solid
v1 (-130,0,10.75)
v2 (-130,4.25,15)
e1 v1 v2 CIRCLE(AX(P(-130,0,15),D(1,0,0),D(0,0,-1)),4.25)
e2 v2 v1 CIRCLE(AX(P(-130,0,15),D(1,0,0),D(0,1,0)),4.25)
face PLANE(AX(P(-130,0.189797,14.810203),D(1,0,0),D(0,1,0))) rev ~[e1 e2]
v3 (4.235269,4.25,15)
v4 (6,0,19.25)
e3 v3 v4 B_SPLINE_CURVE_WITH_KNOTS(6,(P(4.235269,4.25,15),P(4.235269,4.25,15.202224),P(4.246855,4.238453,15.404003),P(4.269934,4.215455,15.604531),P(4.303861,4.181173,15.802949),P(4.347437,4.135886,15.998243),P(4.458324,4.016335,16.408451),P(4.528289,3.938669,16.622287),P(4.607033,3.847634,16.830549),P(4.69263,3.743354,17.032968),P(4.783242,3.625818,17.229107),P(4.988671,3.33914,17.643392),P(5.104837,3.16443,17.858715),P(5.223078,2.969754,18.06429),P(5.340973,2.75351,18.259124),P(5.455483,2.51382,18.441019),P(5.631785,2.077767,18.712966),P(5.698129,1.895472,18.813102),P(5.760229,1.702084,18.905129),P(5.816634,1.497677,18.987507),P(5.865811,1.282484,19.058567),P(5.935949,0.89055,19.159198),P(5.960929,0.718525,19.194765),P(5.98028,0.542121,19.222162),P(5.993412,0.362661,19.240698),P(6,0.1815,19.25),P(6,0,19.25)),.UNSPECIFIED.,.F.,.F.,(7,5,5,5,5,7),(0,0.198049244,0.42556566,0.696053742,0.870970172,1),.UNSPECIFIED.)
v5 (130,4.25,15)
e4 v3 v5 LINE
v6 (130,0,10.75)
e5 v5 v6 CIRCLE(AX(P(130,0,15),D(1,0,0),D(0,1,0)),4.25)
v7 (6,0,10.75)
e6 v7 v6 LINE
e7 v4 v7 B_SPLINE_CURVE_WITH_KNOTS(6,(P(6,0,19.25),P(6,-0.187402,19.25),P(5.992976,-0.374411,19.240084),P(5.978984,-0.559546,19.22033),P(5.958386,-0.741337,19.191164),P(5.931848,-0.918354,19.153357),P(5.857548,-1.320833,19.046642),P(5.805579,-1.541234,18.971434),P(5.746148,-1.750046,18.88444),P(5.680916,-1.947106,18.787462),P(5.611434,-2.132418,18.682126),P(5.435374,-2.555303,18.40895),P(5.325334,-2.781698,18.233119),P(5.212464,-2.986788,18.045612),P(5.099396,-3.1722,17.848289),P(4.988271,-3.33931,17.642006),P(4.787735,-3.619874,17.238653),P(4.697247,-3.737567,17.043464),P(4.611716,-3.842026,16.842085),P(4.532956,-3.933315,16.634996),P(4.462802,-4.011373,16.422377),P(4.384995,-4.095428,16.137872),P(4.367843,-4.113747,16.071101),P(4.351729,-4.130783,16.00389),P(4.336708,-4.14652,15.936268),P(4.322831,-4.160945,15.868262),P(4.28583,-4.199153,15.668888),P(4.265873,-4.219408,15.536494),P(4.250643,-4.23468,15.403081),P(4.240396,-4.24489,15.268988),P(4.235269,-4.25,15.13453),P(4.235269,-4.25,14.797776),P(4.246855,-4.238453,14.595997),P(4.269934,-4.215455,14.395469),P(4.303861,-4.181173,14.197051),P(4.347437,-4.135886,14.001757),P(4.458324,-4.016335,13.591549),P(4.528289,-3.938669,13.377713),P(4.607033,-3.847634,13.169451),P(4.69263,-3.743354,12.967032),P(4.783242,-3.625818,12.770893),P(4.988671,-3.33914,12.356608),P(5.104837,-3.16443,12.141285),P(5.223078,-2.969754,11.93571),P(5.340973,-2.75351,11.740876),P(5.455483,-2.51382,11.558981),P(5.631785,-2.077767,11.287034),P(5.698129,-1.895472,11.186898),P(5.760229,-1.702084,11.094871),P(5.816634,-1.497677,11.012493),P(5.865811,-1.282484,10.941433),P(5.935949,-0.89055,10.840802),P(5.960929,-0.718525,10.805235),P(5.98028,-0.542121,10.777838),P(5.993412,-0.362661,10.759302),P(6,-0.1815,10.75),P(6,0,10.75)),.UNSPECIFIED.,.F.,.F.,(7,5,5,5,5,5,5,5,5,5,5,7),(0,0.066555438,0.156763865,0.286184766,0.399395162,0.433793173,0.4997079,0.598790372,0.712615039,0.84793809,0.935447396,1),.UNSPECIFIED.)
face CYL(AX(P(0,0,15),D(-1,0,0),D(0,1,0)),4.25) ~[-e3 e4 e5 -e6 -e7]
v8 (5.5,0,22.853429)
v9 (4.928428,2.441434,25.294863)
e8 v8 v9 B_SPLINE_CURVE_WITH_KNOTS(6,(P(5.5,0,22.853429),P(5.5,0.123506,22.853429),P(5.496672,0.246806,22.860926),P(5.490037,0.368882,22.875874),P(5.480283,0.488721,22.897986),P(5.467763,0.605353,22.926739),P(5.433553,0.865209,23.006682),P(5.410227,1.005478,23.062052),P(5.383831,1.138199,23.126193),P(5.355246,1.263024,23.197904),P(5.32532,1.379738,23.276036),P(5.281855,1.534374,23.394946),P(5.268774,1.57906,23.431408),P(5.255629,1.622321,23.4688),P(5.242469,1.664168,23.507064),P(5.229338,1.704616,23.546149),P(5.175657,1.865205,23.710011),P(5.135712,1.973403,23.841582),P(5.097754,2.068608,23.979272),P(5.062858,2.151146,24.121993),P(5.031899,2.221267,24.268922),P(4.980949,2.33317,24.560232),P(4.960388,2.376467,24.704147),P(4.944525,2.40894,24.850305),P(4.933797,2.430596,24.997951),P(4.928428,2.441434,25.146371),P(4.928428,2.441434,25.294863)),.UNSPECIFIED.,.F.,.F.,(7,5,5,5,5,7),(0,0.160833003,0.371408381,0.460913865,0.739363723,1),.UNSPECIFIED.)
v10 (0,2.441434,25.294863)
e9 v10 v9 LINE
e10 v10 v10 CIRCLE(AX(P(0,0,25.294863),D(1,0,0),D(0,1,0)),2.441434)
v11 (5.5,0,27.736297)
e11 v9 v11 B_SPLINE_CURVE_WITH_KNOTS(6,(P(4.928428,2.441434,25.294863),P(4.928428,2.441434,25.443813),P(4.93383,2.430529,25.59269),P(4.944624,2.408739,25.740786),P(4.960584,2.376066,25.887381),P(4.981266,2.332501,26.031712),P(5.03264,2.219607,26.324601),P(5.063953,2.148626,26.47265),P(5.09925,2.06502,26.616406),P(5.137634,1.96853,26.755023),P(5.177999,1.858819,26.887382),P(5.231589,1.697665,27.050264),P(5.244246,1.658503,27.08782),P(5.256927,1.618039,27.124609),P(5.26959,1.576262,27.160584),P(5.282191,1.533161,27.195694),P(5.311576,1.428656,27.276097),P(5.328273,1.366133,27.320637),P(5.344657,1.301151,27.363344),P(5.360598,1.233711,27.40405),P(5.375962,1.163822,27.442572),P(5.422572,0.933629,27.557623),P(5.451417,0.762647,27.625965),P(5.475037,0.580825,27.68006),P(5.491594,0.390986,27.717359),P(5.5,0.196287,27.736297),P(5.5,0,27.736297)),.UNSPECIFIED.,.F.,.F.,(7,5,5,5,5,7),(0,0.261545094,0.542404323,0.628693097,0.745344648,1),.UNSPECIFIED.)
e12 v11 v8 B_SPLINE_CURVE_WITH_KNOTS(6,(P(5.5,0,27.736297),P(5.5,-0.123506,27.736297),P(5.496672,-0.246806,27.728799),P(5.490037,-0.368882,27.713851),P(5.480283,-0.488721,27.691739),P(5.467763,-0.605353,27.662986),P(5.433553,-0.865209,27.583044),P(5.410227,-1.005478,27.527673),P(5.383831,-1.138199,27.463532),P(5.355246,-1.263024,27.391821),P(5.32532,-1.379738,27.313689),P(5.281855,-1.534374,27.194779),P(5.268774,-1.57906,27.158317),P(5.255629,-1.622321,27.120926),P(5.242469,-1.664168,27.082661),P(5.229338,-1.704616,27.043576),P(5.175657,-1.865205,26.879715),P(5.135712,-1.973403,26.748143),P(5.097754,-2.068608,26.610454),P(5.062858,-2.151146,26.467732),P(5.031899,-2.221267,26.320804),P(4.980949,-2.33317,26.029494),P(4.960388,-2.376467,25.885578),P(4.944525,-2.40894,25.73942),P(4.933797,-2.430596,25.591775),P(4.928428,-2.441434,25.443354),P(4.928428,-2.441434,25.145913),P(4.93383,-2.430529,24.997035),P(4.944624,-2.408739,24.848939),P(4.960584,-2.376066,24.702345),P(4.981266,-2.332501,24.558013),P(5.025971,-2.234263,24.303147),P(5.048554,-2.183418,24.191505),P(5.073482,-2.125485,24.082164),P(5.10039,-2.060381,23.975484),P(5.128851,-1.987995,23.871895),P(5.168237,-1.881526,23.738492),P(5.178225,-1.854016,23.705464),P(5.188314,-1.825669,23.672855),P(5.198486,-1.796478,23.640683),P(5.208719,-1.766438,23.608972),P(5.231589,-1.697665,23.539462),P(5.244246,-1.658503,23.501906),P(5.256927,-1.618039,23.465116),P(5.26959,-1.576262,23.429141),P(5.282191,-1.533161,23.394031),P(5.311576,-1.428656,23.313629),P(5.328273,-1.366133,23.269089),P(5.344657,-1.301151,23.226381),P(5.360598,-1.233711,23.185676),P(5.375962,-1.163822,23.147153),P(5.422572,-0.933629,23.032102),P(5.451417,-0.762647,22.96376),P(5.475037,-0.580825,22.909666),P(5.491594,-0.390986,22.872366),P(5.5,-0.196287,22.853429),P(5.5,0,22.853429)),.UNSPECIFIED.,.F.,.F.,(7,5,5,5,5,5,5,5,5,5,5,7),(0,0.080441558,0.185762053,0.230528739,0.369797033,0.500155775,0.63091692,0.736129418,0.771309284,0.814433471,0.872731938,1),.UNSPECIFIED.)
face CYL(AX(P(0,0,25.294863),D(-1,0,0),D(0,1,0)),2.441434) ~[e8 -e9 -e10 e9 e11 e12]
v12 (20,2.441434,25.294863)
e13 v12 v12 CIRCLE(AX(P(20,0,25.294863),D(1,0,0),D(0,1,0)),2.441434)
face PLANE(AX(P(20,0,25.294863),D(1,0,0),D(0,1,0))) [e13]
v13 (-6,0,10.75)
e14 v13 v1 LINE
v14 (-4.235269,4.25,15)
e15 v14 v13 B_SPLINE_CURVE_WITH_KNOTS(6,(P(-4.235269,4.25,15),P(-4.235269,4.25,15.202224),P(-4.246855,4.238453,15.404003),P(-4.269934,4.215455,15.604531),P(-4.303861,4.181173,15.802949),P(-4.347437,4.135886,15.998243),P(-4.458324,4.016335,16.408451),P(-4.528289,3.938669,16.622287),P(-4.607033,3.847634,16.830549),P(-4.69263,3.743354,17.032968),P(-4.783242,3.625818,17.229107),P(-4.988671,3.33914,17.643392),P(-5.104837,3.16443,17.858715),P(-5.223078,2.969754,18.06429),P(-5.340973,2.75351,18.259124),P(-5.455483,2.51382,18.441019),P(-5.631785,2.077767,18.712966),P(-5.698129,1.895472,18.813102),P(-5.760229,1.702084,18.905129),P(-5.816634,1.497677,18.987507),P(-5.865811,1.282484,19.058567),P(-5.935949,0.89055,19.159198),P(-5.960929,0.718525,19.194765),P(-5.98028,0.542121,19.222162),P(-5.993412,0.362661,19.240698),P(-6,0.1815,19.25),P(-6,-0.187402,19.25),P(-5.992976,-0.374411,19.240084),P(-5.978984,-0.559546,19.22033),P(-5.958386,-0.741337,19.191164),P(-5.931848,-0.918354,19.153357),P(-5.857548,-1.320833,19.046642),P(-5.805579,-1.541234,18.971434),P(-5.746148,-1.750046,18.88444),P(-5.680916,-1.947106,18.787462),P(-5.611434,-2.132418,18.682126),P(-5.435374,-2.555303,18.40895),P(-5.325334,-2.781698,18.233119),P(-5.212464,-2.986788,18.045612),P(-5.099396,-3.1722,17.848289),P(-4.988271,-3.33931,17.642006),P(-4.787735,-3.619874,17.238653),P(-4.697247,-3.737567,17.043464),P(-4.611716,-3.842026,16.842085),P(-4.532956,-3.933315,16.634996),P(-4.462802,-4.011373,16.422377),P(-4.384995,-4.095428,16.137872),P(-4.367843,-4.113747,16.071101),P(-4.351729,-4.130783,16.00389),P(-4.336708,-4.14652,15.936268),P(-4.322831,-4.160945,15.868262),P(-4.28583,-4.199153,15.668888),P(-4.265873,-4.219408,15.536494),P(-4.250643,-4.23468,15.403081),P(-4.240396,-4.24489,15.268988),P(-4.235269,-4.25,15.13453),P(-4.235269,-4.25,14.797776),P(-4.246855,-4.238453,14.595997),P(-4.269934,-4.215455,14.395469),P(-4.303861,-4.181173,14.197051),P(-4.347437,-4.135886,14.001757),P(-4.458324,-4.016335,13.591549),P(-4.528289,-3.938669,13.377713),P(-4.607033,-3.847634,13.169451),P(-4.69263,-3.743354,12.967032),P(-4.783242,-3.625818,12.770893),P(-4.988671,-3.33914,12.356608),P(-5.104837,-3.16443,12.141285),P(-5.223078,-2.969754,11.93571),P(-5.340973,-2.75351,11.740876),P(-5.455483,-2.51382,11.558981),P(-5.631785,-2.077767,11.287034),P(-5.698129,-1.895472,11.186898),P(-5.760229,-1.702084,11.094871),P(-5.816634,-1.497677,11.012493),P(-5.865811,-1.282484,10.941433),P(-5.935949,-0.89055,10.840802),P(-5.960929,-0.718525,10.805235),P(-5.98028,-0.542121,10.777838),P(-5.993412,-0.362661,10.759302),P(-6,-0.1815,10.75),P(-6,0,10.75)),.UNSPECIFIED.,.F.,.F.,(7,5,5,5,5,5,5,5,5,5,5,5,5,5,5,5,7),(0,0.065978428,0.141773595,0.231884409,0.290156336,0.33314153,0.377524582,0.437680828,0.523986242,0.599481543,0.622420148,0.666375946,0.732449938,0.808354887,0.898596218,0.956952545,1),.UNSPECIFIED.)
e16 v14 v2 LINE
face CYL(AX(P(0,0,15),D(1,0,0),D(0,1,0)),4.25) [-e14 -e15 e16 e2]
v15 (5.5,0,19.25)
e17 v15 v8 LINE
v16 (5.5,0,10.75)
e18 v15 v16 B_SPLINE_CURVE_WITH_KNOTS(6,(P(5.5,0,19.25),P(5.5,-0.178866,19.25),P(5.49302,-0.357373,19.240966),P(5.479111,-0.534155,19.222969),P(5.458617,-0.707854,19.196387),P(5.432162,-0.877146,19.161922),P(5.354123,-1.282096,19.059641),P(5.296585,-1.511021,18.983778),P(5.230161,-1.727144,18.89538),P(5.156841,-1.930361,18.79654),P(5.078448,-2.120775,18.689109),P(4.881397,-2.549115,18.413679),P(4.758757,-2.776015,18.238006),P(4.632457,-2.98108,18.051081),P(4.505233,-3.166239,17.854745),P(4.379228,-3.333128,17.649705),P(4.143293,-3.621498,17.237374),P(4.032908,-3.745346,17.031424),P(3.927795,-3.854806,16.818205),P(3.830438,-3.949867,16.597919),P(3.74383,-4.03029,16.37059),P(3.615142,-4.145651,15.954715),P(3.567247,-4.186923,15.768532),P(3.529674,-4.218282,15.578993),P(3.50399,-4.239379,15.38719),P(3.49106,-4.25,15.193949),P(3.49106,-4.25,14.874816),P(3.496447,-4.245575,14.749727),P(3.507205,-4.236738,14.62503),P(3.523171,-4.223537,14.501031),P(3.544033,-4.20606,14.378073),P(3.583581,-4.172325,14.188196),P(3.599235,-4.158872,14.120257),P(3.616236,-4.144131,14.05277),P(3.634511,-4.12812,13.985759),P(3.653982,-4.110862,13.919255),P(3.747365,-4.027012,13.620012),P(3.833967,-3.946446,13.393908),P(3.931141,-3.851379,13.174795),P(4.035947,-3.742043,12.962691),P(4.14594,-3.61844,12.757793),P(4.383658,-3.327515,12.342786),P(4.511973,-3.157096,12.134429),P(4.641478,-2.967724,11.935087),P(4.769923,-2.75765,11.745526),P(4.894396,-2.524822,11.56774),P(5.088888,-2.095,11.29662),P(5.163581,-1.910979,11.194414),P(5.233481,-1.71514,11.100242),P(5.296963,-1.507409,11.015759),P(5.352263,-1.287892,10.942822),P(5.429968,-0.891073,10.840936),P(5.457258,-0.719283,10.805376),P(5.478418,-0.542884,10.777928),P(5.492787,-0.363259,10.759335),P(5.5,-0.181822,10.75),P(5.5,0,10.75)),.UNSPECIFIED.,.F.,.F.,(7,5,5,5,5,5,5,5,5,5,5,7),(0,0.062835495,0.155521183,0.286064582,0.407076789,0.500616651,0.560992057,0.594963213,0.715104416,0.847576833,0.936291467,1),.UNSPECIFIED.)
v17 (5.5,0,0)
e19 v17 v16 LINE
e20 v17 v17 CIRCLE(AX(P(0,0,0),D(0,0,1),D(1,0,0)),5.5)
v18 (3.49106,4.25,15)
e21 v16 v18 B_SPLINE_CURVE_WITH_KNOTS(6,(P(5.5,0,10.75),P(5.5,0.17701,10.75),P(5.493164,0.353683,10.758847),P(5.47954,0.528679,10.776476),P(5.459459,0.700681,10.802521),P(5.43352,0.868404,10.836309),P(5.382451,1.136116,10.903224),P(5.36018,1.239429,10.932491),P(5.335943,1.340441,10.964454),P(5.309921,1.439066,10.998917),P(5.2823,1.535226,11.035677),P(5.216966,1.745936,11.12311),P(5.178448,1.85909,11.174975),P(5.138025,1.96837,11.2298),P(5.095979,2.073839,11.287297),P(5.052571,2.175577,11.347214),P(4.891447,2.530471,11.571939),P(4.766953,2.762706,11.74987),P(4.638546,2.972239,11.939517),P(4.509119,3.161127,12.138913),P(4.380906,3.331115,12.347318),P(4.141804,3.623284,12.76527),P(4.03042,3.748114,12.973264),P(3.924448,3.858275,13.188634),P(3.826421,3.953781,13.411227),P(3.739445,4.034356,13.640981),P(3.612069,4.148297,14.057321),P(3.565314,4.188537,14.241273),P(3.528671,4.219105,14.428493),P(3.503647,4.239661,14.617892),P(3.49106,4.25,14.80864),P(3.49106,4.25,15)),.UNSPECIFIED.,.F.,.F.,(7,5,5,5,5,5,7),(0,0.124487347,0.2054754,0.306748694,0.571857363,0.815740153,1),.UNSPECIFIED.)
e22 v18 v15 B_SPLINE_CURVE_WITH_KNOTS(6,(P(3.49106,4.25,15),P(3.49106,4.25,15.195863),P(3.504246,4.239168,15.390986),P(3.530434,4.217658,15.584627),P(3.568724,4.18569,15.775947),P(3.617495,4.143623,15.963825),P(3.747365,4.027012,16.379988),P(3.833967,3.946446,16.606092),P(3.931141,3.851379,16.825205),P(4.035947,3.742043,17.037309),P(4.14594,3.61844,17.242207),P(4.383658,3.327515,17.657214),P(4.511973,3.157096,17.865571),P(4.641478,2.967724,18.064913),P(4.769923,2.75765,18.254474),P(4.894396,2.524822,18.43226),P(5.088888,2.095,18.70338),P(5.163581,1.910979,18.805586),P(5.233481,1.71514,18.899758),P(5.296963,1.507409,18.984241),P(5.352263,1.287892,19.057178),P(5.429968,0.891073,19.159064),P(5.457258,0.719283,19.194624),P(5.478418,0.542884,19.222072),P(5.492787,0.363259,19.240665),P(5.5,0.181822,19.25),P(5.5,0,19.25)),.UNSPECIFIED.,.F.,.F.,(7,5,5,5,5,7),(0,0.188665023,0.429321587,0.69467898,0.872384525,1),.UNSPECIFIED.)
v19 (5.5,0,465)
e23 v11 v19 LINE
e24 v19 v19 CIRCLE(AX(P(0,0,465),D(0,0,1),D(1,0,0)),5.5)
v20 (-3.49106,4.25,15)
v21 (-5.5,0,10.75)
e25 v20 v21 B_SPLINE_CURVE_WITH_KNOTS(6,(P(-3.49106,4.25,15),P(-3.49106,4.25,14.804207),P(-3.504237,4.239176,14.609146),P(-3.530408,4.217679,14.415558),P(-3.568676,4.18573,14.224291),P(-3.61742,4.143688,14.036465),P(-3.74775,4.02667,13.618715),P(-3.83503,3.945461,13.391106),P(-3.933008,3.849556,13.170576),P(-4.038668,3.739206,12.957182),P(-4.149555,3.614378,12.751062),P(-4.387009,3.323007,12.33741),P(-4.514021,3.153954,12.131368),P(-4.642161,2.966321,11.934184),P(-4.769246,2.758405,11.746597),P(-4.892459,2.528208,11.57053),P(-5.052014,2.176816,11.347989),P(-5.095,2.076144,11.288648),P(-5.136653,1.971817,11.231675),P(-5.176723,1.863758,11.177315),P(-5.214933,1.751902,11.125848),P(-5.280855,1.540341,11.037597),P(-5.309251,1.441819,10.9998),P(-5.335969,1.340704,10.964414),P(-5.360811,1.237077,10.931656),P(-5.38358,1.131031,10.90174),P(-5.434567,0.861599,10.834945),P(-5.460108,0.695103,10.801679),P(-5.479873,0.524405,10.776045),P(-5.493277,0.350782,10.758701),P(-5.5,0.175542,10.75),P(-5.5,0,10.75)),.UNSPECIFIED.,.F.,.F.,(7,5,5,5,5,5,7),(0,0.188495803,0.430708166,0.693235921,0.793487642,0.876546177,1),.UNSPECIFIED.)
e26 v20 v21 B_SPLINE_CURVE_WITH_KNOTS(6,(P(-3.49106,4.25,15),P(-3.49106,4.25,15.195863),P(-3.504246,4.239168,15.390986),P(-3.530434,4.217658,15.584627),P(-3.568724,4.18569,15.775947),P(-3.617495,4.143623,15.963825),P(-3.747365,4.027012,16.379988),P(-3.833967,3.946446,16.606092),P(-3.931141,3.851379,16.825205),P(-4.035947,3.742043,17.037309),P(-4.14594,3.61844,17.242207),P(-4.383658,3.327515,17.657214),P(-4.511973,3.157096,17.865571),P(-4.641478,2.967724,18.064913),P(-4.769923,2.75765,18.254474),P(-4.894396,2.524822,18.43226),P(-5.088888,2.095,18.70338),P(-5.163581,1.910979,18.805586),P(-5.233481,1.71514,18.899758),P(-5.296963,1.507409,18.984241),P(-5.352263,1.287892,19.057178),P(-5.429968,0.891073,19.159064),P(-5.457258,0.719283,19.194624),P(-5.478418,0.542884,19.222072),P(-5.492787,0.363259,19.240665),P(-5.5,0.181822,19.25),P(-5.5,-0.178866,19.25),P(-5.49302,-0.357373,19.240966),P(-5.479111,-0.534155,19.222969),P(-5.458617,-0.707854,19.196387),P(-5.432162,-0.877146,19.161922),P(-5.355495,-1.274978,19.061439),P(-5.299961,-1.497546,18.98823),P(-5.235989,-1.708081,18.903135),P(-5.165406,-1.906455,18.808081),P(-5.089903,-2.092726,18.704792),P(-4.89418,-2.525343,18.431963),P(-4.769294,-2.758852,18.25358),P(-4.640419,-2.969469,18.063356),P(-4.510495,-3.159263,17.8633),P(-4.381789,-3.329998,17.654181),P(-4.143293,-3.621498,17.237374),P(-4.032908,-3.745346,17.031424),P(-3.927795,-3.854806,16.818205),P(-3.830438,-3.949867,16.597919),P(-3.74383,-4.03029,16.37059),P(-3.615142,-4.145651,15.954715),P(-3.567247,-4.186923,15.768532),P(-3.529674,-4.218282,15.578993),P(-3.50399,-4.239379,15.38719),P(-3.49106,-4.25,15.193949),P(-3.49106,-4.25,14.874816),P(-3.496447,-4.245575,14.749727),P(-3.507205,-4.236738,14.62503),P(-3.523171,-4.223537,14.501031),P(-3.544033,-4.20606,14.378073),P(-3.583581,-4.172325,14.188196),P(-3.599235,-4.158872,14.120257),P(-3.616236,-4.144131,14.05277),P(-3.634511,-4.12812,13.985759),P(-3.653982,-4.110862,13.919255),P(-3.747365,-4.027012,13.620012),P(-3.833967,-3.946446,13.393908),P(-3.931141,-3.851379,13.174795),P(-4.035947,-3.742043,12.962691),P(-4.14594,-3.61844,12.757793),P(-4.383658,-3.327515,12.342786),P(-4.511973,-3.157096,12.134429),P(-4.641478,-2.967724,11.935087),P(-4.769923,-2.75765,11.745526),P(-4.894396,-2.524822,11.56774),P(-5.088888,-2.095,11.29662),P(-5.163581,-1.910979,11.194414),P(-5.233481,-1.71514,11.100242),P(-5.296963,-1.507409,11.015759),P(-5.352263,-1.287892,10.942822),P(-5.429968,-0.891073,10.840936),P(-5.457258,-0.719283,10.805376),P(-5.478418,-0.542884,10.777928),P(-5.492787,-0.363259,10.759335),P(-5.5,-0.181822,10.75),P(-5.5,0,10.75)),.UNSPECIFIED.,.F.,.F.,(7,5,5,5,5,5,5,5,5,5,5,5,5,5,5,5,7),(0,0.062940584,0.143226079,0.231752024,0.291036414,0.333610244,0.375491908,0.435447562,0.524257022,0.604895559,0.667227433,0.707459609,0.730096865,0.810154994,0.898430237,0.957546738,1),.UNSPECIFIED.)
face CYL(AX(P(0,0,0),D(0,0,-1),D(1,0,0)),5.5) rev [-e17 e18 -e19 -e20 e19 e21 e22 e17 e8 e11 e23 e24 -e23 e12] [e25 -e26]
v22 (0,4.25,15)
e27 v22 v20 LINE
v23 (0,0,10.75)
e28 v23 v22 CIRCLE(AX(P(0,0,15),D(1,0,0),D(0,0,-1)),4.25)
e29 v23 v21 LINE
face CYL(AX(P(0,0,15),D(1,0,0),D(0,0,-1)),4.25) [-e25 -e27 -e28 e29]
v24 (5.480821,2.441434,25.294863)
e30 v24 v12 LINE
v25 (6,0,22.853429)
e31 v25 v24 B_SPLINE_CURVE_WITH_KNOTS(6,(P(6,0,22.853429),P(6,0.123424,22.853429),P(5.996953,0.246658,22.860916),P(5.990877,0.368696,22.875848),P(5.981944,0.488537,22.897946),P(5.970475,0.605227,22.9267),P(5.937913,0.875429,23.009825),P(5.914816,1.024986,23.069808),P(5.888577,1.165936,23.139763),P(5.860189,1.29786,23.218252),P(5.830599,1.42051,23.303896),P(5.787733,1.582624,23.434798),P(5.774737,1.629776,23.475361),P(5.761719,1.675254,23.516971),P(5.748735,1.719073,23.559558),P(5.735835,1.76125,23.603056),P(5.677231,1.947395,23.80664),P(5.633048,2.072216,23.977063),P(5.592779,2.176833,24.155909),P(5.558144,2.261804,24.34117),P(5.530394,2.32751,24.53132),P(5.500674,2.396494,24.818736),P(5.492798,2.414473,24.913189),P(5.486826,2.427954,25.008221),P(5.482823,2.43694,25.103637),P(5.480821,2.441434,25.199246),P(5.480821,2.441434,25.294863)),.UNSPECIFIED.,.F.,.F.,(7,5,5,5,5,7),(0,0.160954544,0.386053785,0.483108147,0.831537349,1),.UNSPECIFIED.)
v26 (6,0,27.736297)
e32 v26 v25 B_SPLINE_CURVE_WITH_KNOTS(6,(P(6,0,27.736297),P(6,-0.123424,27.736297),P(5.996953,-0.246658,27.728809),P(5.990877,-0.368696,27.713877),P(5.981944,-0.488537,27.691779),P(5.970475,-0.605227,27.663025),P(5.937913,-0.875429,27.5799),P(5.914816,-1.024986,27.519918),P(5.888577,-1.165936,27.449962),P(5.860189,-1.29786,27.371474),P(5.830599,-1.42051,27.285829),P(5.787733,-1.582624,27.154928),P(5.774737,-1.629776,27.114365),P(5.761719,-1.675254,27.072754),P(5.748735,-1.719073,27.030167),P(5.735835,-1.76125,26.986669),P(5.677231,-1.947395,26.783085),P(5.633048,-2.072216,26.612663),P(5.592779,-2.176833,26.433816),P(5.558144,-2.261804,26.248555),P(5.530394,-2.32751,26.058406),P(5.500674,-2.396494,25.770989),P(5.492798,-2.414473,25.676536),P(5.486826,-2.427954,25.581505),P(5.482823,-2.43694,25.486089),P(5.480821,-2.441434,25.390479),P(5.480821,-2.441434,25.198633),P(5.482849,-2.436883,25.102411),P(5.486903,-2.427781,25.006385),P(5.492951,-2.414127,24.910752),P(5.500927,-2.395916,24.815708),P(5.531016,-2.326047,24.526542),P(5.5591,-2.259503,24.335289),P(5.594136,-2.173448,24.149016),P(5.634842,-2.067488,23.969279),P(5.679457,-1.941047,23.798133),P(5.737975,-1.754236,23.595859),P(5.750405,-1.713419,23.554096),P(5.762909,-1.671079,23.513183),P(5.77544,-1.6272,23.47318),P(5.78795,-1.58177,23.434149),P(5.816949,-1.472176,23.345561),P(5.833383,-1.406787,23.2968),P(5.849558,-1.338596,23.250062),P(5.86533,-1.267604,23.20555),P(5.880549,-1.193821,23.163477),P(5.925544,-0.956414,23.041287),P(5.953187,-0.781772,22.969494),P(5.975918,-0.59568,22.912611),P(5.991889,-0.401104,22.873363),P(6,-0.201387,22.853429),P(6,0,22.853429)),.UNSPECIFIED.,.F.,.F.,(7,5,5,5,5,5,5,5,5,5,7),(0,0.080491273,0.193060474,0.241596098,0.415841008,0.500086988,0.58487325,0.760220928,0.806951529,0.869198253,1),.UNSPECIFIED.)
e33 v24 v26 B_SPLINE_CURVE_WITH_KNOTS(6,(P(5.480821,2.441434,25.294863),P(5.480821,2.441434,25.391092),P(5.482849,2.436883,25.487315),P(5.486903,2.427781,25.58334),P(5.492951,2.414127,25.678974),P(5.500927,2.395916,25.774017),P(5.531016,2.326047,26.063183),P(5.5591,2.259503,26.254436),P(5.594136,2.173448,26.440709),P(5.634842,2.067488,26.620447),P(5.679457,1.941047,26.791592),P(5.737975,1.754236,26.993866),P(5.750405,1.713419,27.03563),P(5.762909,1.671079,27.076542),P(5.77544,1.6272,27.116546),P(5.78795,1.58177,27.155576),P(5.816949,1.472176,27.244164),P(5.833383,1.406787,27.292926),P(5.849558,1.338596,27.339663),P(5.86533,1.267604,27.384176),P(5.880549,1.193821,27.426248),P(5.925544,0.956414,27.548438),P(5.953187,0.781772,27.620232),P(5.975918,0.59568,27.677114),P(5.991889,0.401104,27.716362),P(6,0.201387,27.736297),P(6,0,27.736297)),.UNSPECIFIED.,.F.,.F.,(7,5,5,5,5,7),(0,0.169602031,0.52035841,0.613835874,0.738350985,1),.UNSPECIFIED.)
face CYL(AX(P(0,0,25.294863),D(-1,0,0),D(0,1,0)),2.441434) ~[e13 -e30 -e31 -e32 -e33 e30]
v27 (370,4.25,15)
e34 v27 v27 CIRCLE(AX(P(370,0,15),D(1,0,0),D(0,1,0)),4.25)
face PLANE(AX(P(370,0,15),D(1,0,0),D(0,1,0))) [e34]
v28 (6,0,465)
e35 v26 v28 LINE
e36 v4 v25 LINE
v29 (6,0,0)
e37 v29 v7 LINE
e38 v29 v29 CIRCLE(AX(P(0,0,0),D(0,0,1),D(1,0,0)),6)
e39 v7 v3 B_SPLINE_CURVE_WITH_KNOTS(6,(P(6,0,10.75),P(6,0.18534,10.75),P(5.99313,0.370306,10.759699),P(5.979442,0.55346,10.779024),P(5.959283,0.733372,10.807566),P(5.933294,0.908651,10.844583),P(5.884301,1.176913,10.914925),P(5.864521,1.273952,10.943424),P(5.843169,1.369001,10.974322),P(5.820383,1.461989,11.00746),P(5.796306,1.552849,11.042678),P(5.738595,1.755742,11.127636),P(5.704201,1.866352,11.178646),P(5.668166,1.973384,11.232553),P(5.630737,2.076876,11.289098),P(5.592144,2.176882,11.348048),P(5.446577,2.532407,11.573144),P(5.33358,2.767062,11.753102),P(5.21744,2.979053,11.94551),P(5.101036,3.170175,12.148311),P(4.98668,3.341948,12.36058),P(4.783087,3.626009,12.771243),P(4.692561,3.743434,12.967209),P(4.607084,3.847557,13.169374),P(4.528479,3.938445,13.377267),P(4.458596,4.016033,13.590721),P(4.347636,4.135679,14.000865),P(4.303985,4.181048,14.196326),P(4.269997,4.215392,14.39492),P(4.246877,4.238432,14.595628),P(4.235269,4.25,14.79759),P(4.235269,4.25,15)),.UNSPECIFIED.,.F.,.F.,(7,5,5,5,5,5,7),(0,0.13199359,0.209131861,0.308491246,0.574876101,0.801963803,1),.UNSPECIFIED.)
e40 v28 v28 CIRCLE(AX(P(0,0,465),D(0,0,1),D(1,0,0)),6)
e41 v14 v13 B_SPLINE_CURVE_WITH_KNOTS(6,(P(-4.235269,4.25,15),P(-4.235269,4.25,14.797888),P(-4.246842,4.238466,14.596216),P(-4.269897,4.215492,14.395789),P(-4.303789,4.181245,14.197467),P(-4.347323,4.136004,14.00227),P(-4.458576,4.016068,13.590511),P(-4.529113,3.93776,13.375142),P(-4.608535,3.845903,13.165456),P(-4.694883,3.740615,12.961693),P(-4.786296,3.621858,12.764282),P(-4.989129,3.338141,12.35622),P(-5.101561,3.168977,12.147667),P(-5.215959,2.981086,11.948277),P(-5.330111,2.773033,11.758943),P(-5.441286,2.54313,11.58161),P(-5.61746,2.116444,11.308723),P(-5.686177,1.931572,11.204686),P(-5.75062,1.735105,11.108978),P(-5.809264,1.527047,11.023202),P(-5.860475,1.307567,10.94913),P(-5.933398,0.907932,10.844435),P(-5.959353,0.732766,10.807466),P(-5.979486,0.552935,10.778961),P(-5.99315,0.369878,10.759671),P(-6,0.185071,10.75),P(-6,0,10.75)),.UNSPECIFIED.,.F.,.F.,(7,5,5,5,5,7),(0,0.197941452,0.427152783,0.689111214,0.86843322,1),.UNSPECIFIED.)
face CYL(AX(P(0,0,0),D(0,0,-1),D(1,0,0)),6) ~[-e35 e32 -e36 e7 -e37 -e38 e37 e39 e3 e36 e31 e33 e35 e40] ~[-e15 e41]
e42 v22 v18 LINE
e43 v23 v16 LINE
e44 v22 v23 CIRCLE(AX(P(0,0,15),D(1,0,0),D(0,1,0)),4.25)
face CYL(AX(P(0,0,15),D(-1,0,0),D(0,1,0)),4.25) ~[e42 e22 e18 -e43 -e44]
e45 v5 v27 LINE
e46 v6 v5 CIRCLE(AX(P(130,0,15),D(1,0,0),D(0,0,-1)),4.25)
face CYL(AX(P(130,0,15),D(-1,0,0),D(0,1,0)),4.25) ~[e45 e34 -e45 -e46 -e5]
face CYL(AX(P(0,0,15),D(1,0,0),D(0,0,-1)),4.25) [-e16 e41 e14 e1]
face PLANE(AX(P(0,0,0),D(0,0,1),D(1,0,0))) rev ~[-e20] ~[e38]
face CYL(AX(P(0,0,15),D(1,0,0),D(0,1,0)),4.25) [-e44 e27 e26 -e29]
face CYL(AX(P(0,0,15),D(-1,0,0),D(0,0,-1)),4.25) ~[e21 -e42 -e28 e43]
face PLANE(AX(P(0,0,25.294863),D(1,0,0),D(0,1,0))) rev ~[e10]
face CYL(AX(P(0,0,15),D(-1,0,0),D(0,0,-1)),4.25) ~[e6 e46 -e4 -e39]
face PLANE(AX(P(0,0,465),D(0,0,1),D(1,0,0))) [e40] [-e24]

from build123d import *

# Parameters (mm, degrees)
F0_R      = 6
F0_R_2    = 5.5
F1_DEPTH  = 465
F2_R      = 2.4414340199
F3_DEPTH  = 20
F5_D      = 8
F5_DEPTH  = 6.0010001
F6_D      = 8
F7_DEPTH  = 130
F7_FACE_R = 4.25
F8_DEPTH  = 240


with BuildPart() as f1:
    # F0 (on Top) → F1 (new body)
    with BuildSketch(Plane.XY):
        Circle(F0_R)
        Circle(F0_R_2, mode=Mode.SUBTRACT)
    extrude(amount=F1_DEPTH)

    # F2 (on Right) → F3 (join)
    with BuildSketch(Plane.YZ):
        with Locations((0, 25.2948626876)):
            Circle(F2_R)
    extrude(amount=F3_DEPTH)

    # F5 (through all, one way)
    with BuildSketch(Plane.YZ):
        with Locations((0, 15)):
            Circle(F5_D / 2)
    extrude(amount=-F5_DEPTH, mode=Mode.SUBTRACT)

    # F6 (through all)
    with Locations(Plane(origin=(0, 0, 0), x_dir=(0, 1, 0), z_dir=(-1, 0, 0))):
        with Locations((0, -15)):
            Hole(F6_D / 2)

    # F4 (on Right) → F7 (join, symmetric)
    with BuildSketch(Plane.YZ):
        with BuildLine():
            ThreePointArc((0, 10.75), (3.00520382, 11.99479618), (4.25, 15))
            ThreePointArc((4.25, 15), (-3.00520382, 18.00520382), (0, 10.75))
        make_face()
    extrude(amount=F7_DEPTH, both=True)

    # F7_face (on face) → F8 (join)
    with BuildSketch(Plane(origin=(130, 0, 15), x_dir=(0, 1, 0), z_dir=(1, 0, 0))):
        Circle(F7_FACE_R)
    extrude(amount=F8_DEPTH)


solid = f1.part
